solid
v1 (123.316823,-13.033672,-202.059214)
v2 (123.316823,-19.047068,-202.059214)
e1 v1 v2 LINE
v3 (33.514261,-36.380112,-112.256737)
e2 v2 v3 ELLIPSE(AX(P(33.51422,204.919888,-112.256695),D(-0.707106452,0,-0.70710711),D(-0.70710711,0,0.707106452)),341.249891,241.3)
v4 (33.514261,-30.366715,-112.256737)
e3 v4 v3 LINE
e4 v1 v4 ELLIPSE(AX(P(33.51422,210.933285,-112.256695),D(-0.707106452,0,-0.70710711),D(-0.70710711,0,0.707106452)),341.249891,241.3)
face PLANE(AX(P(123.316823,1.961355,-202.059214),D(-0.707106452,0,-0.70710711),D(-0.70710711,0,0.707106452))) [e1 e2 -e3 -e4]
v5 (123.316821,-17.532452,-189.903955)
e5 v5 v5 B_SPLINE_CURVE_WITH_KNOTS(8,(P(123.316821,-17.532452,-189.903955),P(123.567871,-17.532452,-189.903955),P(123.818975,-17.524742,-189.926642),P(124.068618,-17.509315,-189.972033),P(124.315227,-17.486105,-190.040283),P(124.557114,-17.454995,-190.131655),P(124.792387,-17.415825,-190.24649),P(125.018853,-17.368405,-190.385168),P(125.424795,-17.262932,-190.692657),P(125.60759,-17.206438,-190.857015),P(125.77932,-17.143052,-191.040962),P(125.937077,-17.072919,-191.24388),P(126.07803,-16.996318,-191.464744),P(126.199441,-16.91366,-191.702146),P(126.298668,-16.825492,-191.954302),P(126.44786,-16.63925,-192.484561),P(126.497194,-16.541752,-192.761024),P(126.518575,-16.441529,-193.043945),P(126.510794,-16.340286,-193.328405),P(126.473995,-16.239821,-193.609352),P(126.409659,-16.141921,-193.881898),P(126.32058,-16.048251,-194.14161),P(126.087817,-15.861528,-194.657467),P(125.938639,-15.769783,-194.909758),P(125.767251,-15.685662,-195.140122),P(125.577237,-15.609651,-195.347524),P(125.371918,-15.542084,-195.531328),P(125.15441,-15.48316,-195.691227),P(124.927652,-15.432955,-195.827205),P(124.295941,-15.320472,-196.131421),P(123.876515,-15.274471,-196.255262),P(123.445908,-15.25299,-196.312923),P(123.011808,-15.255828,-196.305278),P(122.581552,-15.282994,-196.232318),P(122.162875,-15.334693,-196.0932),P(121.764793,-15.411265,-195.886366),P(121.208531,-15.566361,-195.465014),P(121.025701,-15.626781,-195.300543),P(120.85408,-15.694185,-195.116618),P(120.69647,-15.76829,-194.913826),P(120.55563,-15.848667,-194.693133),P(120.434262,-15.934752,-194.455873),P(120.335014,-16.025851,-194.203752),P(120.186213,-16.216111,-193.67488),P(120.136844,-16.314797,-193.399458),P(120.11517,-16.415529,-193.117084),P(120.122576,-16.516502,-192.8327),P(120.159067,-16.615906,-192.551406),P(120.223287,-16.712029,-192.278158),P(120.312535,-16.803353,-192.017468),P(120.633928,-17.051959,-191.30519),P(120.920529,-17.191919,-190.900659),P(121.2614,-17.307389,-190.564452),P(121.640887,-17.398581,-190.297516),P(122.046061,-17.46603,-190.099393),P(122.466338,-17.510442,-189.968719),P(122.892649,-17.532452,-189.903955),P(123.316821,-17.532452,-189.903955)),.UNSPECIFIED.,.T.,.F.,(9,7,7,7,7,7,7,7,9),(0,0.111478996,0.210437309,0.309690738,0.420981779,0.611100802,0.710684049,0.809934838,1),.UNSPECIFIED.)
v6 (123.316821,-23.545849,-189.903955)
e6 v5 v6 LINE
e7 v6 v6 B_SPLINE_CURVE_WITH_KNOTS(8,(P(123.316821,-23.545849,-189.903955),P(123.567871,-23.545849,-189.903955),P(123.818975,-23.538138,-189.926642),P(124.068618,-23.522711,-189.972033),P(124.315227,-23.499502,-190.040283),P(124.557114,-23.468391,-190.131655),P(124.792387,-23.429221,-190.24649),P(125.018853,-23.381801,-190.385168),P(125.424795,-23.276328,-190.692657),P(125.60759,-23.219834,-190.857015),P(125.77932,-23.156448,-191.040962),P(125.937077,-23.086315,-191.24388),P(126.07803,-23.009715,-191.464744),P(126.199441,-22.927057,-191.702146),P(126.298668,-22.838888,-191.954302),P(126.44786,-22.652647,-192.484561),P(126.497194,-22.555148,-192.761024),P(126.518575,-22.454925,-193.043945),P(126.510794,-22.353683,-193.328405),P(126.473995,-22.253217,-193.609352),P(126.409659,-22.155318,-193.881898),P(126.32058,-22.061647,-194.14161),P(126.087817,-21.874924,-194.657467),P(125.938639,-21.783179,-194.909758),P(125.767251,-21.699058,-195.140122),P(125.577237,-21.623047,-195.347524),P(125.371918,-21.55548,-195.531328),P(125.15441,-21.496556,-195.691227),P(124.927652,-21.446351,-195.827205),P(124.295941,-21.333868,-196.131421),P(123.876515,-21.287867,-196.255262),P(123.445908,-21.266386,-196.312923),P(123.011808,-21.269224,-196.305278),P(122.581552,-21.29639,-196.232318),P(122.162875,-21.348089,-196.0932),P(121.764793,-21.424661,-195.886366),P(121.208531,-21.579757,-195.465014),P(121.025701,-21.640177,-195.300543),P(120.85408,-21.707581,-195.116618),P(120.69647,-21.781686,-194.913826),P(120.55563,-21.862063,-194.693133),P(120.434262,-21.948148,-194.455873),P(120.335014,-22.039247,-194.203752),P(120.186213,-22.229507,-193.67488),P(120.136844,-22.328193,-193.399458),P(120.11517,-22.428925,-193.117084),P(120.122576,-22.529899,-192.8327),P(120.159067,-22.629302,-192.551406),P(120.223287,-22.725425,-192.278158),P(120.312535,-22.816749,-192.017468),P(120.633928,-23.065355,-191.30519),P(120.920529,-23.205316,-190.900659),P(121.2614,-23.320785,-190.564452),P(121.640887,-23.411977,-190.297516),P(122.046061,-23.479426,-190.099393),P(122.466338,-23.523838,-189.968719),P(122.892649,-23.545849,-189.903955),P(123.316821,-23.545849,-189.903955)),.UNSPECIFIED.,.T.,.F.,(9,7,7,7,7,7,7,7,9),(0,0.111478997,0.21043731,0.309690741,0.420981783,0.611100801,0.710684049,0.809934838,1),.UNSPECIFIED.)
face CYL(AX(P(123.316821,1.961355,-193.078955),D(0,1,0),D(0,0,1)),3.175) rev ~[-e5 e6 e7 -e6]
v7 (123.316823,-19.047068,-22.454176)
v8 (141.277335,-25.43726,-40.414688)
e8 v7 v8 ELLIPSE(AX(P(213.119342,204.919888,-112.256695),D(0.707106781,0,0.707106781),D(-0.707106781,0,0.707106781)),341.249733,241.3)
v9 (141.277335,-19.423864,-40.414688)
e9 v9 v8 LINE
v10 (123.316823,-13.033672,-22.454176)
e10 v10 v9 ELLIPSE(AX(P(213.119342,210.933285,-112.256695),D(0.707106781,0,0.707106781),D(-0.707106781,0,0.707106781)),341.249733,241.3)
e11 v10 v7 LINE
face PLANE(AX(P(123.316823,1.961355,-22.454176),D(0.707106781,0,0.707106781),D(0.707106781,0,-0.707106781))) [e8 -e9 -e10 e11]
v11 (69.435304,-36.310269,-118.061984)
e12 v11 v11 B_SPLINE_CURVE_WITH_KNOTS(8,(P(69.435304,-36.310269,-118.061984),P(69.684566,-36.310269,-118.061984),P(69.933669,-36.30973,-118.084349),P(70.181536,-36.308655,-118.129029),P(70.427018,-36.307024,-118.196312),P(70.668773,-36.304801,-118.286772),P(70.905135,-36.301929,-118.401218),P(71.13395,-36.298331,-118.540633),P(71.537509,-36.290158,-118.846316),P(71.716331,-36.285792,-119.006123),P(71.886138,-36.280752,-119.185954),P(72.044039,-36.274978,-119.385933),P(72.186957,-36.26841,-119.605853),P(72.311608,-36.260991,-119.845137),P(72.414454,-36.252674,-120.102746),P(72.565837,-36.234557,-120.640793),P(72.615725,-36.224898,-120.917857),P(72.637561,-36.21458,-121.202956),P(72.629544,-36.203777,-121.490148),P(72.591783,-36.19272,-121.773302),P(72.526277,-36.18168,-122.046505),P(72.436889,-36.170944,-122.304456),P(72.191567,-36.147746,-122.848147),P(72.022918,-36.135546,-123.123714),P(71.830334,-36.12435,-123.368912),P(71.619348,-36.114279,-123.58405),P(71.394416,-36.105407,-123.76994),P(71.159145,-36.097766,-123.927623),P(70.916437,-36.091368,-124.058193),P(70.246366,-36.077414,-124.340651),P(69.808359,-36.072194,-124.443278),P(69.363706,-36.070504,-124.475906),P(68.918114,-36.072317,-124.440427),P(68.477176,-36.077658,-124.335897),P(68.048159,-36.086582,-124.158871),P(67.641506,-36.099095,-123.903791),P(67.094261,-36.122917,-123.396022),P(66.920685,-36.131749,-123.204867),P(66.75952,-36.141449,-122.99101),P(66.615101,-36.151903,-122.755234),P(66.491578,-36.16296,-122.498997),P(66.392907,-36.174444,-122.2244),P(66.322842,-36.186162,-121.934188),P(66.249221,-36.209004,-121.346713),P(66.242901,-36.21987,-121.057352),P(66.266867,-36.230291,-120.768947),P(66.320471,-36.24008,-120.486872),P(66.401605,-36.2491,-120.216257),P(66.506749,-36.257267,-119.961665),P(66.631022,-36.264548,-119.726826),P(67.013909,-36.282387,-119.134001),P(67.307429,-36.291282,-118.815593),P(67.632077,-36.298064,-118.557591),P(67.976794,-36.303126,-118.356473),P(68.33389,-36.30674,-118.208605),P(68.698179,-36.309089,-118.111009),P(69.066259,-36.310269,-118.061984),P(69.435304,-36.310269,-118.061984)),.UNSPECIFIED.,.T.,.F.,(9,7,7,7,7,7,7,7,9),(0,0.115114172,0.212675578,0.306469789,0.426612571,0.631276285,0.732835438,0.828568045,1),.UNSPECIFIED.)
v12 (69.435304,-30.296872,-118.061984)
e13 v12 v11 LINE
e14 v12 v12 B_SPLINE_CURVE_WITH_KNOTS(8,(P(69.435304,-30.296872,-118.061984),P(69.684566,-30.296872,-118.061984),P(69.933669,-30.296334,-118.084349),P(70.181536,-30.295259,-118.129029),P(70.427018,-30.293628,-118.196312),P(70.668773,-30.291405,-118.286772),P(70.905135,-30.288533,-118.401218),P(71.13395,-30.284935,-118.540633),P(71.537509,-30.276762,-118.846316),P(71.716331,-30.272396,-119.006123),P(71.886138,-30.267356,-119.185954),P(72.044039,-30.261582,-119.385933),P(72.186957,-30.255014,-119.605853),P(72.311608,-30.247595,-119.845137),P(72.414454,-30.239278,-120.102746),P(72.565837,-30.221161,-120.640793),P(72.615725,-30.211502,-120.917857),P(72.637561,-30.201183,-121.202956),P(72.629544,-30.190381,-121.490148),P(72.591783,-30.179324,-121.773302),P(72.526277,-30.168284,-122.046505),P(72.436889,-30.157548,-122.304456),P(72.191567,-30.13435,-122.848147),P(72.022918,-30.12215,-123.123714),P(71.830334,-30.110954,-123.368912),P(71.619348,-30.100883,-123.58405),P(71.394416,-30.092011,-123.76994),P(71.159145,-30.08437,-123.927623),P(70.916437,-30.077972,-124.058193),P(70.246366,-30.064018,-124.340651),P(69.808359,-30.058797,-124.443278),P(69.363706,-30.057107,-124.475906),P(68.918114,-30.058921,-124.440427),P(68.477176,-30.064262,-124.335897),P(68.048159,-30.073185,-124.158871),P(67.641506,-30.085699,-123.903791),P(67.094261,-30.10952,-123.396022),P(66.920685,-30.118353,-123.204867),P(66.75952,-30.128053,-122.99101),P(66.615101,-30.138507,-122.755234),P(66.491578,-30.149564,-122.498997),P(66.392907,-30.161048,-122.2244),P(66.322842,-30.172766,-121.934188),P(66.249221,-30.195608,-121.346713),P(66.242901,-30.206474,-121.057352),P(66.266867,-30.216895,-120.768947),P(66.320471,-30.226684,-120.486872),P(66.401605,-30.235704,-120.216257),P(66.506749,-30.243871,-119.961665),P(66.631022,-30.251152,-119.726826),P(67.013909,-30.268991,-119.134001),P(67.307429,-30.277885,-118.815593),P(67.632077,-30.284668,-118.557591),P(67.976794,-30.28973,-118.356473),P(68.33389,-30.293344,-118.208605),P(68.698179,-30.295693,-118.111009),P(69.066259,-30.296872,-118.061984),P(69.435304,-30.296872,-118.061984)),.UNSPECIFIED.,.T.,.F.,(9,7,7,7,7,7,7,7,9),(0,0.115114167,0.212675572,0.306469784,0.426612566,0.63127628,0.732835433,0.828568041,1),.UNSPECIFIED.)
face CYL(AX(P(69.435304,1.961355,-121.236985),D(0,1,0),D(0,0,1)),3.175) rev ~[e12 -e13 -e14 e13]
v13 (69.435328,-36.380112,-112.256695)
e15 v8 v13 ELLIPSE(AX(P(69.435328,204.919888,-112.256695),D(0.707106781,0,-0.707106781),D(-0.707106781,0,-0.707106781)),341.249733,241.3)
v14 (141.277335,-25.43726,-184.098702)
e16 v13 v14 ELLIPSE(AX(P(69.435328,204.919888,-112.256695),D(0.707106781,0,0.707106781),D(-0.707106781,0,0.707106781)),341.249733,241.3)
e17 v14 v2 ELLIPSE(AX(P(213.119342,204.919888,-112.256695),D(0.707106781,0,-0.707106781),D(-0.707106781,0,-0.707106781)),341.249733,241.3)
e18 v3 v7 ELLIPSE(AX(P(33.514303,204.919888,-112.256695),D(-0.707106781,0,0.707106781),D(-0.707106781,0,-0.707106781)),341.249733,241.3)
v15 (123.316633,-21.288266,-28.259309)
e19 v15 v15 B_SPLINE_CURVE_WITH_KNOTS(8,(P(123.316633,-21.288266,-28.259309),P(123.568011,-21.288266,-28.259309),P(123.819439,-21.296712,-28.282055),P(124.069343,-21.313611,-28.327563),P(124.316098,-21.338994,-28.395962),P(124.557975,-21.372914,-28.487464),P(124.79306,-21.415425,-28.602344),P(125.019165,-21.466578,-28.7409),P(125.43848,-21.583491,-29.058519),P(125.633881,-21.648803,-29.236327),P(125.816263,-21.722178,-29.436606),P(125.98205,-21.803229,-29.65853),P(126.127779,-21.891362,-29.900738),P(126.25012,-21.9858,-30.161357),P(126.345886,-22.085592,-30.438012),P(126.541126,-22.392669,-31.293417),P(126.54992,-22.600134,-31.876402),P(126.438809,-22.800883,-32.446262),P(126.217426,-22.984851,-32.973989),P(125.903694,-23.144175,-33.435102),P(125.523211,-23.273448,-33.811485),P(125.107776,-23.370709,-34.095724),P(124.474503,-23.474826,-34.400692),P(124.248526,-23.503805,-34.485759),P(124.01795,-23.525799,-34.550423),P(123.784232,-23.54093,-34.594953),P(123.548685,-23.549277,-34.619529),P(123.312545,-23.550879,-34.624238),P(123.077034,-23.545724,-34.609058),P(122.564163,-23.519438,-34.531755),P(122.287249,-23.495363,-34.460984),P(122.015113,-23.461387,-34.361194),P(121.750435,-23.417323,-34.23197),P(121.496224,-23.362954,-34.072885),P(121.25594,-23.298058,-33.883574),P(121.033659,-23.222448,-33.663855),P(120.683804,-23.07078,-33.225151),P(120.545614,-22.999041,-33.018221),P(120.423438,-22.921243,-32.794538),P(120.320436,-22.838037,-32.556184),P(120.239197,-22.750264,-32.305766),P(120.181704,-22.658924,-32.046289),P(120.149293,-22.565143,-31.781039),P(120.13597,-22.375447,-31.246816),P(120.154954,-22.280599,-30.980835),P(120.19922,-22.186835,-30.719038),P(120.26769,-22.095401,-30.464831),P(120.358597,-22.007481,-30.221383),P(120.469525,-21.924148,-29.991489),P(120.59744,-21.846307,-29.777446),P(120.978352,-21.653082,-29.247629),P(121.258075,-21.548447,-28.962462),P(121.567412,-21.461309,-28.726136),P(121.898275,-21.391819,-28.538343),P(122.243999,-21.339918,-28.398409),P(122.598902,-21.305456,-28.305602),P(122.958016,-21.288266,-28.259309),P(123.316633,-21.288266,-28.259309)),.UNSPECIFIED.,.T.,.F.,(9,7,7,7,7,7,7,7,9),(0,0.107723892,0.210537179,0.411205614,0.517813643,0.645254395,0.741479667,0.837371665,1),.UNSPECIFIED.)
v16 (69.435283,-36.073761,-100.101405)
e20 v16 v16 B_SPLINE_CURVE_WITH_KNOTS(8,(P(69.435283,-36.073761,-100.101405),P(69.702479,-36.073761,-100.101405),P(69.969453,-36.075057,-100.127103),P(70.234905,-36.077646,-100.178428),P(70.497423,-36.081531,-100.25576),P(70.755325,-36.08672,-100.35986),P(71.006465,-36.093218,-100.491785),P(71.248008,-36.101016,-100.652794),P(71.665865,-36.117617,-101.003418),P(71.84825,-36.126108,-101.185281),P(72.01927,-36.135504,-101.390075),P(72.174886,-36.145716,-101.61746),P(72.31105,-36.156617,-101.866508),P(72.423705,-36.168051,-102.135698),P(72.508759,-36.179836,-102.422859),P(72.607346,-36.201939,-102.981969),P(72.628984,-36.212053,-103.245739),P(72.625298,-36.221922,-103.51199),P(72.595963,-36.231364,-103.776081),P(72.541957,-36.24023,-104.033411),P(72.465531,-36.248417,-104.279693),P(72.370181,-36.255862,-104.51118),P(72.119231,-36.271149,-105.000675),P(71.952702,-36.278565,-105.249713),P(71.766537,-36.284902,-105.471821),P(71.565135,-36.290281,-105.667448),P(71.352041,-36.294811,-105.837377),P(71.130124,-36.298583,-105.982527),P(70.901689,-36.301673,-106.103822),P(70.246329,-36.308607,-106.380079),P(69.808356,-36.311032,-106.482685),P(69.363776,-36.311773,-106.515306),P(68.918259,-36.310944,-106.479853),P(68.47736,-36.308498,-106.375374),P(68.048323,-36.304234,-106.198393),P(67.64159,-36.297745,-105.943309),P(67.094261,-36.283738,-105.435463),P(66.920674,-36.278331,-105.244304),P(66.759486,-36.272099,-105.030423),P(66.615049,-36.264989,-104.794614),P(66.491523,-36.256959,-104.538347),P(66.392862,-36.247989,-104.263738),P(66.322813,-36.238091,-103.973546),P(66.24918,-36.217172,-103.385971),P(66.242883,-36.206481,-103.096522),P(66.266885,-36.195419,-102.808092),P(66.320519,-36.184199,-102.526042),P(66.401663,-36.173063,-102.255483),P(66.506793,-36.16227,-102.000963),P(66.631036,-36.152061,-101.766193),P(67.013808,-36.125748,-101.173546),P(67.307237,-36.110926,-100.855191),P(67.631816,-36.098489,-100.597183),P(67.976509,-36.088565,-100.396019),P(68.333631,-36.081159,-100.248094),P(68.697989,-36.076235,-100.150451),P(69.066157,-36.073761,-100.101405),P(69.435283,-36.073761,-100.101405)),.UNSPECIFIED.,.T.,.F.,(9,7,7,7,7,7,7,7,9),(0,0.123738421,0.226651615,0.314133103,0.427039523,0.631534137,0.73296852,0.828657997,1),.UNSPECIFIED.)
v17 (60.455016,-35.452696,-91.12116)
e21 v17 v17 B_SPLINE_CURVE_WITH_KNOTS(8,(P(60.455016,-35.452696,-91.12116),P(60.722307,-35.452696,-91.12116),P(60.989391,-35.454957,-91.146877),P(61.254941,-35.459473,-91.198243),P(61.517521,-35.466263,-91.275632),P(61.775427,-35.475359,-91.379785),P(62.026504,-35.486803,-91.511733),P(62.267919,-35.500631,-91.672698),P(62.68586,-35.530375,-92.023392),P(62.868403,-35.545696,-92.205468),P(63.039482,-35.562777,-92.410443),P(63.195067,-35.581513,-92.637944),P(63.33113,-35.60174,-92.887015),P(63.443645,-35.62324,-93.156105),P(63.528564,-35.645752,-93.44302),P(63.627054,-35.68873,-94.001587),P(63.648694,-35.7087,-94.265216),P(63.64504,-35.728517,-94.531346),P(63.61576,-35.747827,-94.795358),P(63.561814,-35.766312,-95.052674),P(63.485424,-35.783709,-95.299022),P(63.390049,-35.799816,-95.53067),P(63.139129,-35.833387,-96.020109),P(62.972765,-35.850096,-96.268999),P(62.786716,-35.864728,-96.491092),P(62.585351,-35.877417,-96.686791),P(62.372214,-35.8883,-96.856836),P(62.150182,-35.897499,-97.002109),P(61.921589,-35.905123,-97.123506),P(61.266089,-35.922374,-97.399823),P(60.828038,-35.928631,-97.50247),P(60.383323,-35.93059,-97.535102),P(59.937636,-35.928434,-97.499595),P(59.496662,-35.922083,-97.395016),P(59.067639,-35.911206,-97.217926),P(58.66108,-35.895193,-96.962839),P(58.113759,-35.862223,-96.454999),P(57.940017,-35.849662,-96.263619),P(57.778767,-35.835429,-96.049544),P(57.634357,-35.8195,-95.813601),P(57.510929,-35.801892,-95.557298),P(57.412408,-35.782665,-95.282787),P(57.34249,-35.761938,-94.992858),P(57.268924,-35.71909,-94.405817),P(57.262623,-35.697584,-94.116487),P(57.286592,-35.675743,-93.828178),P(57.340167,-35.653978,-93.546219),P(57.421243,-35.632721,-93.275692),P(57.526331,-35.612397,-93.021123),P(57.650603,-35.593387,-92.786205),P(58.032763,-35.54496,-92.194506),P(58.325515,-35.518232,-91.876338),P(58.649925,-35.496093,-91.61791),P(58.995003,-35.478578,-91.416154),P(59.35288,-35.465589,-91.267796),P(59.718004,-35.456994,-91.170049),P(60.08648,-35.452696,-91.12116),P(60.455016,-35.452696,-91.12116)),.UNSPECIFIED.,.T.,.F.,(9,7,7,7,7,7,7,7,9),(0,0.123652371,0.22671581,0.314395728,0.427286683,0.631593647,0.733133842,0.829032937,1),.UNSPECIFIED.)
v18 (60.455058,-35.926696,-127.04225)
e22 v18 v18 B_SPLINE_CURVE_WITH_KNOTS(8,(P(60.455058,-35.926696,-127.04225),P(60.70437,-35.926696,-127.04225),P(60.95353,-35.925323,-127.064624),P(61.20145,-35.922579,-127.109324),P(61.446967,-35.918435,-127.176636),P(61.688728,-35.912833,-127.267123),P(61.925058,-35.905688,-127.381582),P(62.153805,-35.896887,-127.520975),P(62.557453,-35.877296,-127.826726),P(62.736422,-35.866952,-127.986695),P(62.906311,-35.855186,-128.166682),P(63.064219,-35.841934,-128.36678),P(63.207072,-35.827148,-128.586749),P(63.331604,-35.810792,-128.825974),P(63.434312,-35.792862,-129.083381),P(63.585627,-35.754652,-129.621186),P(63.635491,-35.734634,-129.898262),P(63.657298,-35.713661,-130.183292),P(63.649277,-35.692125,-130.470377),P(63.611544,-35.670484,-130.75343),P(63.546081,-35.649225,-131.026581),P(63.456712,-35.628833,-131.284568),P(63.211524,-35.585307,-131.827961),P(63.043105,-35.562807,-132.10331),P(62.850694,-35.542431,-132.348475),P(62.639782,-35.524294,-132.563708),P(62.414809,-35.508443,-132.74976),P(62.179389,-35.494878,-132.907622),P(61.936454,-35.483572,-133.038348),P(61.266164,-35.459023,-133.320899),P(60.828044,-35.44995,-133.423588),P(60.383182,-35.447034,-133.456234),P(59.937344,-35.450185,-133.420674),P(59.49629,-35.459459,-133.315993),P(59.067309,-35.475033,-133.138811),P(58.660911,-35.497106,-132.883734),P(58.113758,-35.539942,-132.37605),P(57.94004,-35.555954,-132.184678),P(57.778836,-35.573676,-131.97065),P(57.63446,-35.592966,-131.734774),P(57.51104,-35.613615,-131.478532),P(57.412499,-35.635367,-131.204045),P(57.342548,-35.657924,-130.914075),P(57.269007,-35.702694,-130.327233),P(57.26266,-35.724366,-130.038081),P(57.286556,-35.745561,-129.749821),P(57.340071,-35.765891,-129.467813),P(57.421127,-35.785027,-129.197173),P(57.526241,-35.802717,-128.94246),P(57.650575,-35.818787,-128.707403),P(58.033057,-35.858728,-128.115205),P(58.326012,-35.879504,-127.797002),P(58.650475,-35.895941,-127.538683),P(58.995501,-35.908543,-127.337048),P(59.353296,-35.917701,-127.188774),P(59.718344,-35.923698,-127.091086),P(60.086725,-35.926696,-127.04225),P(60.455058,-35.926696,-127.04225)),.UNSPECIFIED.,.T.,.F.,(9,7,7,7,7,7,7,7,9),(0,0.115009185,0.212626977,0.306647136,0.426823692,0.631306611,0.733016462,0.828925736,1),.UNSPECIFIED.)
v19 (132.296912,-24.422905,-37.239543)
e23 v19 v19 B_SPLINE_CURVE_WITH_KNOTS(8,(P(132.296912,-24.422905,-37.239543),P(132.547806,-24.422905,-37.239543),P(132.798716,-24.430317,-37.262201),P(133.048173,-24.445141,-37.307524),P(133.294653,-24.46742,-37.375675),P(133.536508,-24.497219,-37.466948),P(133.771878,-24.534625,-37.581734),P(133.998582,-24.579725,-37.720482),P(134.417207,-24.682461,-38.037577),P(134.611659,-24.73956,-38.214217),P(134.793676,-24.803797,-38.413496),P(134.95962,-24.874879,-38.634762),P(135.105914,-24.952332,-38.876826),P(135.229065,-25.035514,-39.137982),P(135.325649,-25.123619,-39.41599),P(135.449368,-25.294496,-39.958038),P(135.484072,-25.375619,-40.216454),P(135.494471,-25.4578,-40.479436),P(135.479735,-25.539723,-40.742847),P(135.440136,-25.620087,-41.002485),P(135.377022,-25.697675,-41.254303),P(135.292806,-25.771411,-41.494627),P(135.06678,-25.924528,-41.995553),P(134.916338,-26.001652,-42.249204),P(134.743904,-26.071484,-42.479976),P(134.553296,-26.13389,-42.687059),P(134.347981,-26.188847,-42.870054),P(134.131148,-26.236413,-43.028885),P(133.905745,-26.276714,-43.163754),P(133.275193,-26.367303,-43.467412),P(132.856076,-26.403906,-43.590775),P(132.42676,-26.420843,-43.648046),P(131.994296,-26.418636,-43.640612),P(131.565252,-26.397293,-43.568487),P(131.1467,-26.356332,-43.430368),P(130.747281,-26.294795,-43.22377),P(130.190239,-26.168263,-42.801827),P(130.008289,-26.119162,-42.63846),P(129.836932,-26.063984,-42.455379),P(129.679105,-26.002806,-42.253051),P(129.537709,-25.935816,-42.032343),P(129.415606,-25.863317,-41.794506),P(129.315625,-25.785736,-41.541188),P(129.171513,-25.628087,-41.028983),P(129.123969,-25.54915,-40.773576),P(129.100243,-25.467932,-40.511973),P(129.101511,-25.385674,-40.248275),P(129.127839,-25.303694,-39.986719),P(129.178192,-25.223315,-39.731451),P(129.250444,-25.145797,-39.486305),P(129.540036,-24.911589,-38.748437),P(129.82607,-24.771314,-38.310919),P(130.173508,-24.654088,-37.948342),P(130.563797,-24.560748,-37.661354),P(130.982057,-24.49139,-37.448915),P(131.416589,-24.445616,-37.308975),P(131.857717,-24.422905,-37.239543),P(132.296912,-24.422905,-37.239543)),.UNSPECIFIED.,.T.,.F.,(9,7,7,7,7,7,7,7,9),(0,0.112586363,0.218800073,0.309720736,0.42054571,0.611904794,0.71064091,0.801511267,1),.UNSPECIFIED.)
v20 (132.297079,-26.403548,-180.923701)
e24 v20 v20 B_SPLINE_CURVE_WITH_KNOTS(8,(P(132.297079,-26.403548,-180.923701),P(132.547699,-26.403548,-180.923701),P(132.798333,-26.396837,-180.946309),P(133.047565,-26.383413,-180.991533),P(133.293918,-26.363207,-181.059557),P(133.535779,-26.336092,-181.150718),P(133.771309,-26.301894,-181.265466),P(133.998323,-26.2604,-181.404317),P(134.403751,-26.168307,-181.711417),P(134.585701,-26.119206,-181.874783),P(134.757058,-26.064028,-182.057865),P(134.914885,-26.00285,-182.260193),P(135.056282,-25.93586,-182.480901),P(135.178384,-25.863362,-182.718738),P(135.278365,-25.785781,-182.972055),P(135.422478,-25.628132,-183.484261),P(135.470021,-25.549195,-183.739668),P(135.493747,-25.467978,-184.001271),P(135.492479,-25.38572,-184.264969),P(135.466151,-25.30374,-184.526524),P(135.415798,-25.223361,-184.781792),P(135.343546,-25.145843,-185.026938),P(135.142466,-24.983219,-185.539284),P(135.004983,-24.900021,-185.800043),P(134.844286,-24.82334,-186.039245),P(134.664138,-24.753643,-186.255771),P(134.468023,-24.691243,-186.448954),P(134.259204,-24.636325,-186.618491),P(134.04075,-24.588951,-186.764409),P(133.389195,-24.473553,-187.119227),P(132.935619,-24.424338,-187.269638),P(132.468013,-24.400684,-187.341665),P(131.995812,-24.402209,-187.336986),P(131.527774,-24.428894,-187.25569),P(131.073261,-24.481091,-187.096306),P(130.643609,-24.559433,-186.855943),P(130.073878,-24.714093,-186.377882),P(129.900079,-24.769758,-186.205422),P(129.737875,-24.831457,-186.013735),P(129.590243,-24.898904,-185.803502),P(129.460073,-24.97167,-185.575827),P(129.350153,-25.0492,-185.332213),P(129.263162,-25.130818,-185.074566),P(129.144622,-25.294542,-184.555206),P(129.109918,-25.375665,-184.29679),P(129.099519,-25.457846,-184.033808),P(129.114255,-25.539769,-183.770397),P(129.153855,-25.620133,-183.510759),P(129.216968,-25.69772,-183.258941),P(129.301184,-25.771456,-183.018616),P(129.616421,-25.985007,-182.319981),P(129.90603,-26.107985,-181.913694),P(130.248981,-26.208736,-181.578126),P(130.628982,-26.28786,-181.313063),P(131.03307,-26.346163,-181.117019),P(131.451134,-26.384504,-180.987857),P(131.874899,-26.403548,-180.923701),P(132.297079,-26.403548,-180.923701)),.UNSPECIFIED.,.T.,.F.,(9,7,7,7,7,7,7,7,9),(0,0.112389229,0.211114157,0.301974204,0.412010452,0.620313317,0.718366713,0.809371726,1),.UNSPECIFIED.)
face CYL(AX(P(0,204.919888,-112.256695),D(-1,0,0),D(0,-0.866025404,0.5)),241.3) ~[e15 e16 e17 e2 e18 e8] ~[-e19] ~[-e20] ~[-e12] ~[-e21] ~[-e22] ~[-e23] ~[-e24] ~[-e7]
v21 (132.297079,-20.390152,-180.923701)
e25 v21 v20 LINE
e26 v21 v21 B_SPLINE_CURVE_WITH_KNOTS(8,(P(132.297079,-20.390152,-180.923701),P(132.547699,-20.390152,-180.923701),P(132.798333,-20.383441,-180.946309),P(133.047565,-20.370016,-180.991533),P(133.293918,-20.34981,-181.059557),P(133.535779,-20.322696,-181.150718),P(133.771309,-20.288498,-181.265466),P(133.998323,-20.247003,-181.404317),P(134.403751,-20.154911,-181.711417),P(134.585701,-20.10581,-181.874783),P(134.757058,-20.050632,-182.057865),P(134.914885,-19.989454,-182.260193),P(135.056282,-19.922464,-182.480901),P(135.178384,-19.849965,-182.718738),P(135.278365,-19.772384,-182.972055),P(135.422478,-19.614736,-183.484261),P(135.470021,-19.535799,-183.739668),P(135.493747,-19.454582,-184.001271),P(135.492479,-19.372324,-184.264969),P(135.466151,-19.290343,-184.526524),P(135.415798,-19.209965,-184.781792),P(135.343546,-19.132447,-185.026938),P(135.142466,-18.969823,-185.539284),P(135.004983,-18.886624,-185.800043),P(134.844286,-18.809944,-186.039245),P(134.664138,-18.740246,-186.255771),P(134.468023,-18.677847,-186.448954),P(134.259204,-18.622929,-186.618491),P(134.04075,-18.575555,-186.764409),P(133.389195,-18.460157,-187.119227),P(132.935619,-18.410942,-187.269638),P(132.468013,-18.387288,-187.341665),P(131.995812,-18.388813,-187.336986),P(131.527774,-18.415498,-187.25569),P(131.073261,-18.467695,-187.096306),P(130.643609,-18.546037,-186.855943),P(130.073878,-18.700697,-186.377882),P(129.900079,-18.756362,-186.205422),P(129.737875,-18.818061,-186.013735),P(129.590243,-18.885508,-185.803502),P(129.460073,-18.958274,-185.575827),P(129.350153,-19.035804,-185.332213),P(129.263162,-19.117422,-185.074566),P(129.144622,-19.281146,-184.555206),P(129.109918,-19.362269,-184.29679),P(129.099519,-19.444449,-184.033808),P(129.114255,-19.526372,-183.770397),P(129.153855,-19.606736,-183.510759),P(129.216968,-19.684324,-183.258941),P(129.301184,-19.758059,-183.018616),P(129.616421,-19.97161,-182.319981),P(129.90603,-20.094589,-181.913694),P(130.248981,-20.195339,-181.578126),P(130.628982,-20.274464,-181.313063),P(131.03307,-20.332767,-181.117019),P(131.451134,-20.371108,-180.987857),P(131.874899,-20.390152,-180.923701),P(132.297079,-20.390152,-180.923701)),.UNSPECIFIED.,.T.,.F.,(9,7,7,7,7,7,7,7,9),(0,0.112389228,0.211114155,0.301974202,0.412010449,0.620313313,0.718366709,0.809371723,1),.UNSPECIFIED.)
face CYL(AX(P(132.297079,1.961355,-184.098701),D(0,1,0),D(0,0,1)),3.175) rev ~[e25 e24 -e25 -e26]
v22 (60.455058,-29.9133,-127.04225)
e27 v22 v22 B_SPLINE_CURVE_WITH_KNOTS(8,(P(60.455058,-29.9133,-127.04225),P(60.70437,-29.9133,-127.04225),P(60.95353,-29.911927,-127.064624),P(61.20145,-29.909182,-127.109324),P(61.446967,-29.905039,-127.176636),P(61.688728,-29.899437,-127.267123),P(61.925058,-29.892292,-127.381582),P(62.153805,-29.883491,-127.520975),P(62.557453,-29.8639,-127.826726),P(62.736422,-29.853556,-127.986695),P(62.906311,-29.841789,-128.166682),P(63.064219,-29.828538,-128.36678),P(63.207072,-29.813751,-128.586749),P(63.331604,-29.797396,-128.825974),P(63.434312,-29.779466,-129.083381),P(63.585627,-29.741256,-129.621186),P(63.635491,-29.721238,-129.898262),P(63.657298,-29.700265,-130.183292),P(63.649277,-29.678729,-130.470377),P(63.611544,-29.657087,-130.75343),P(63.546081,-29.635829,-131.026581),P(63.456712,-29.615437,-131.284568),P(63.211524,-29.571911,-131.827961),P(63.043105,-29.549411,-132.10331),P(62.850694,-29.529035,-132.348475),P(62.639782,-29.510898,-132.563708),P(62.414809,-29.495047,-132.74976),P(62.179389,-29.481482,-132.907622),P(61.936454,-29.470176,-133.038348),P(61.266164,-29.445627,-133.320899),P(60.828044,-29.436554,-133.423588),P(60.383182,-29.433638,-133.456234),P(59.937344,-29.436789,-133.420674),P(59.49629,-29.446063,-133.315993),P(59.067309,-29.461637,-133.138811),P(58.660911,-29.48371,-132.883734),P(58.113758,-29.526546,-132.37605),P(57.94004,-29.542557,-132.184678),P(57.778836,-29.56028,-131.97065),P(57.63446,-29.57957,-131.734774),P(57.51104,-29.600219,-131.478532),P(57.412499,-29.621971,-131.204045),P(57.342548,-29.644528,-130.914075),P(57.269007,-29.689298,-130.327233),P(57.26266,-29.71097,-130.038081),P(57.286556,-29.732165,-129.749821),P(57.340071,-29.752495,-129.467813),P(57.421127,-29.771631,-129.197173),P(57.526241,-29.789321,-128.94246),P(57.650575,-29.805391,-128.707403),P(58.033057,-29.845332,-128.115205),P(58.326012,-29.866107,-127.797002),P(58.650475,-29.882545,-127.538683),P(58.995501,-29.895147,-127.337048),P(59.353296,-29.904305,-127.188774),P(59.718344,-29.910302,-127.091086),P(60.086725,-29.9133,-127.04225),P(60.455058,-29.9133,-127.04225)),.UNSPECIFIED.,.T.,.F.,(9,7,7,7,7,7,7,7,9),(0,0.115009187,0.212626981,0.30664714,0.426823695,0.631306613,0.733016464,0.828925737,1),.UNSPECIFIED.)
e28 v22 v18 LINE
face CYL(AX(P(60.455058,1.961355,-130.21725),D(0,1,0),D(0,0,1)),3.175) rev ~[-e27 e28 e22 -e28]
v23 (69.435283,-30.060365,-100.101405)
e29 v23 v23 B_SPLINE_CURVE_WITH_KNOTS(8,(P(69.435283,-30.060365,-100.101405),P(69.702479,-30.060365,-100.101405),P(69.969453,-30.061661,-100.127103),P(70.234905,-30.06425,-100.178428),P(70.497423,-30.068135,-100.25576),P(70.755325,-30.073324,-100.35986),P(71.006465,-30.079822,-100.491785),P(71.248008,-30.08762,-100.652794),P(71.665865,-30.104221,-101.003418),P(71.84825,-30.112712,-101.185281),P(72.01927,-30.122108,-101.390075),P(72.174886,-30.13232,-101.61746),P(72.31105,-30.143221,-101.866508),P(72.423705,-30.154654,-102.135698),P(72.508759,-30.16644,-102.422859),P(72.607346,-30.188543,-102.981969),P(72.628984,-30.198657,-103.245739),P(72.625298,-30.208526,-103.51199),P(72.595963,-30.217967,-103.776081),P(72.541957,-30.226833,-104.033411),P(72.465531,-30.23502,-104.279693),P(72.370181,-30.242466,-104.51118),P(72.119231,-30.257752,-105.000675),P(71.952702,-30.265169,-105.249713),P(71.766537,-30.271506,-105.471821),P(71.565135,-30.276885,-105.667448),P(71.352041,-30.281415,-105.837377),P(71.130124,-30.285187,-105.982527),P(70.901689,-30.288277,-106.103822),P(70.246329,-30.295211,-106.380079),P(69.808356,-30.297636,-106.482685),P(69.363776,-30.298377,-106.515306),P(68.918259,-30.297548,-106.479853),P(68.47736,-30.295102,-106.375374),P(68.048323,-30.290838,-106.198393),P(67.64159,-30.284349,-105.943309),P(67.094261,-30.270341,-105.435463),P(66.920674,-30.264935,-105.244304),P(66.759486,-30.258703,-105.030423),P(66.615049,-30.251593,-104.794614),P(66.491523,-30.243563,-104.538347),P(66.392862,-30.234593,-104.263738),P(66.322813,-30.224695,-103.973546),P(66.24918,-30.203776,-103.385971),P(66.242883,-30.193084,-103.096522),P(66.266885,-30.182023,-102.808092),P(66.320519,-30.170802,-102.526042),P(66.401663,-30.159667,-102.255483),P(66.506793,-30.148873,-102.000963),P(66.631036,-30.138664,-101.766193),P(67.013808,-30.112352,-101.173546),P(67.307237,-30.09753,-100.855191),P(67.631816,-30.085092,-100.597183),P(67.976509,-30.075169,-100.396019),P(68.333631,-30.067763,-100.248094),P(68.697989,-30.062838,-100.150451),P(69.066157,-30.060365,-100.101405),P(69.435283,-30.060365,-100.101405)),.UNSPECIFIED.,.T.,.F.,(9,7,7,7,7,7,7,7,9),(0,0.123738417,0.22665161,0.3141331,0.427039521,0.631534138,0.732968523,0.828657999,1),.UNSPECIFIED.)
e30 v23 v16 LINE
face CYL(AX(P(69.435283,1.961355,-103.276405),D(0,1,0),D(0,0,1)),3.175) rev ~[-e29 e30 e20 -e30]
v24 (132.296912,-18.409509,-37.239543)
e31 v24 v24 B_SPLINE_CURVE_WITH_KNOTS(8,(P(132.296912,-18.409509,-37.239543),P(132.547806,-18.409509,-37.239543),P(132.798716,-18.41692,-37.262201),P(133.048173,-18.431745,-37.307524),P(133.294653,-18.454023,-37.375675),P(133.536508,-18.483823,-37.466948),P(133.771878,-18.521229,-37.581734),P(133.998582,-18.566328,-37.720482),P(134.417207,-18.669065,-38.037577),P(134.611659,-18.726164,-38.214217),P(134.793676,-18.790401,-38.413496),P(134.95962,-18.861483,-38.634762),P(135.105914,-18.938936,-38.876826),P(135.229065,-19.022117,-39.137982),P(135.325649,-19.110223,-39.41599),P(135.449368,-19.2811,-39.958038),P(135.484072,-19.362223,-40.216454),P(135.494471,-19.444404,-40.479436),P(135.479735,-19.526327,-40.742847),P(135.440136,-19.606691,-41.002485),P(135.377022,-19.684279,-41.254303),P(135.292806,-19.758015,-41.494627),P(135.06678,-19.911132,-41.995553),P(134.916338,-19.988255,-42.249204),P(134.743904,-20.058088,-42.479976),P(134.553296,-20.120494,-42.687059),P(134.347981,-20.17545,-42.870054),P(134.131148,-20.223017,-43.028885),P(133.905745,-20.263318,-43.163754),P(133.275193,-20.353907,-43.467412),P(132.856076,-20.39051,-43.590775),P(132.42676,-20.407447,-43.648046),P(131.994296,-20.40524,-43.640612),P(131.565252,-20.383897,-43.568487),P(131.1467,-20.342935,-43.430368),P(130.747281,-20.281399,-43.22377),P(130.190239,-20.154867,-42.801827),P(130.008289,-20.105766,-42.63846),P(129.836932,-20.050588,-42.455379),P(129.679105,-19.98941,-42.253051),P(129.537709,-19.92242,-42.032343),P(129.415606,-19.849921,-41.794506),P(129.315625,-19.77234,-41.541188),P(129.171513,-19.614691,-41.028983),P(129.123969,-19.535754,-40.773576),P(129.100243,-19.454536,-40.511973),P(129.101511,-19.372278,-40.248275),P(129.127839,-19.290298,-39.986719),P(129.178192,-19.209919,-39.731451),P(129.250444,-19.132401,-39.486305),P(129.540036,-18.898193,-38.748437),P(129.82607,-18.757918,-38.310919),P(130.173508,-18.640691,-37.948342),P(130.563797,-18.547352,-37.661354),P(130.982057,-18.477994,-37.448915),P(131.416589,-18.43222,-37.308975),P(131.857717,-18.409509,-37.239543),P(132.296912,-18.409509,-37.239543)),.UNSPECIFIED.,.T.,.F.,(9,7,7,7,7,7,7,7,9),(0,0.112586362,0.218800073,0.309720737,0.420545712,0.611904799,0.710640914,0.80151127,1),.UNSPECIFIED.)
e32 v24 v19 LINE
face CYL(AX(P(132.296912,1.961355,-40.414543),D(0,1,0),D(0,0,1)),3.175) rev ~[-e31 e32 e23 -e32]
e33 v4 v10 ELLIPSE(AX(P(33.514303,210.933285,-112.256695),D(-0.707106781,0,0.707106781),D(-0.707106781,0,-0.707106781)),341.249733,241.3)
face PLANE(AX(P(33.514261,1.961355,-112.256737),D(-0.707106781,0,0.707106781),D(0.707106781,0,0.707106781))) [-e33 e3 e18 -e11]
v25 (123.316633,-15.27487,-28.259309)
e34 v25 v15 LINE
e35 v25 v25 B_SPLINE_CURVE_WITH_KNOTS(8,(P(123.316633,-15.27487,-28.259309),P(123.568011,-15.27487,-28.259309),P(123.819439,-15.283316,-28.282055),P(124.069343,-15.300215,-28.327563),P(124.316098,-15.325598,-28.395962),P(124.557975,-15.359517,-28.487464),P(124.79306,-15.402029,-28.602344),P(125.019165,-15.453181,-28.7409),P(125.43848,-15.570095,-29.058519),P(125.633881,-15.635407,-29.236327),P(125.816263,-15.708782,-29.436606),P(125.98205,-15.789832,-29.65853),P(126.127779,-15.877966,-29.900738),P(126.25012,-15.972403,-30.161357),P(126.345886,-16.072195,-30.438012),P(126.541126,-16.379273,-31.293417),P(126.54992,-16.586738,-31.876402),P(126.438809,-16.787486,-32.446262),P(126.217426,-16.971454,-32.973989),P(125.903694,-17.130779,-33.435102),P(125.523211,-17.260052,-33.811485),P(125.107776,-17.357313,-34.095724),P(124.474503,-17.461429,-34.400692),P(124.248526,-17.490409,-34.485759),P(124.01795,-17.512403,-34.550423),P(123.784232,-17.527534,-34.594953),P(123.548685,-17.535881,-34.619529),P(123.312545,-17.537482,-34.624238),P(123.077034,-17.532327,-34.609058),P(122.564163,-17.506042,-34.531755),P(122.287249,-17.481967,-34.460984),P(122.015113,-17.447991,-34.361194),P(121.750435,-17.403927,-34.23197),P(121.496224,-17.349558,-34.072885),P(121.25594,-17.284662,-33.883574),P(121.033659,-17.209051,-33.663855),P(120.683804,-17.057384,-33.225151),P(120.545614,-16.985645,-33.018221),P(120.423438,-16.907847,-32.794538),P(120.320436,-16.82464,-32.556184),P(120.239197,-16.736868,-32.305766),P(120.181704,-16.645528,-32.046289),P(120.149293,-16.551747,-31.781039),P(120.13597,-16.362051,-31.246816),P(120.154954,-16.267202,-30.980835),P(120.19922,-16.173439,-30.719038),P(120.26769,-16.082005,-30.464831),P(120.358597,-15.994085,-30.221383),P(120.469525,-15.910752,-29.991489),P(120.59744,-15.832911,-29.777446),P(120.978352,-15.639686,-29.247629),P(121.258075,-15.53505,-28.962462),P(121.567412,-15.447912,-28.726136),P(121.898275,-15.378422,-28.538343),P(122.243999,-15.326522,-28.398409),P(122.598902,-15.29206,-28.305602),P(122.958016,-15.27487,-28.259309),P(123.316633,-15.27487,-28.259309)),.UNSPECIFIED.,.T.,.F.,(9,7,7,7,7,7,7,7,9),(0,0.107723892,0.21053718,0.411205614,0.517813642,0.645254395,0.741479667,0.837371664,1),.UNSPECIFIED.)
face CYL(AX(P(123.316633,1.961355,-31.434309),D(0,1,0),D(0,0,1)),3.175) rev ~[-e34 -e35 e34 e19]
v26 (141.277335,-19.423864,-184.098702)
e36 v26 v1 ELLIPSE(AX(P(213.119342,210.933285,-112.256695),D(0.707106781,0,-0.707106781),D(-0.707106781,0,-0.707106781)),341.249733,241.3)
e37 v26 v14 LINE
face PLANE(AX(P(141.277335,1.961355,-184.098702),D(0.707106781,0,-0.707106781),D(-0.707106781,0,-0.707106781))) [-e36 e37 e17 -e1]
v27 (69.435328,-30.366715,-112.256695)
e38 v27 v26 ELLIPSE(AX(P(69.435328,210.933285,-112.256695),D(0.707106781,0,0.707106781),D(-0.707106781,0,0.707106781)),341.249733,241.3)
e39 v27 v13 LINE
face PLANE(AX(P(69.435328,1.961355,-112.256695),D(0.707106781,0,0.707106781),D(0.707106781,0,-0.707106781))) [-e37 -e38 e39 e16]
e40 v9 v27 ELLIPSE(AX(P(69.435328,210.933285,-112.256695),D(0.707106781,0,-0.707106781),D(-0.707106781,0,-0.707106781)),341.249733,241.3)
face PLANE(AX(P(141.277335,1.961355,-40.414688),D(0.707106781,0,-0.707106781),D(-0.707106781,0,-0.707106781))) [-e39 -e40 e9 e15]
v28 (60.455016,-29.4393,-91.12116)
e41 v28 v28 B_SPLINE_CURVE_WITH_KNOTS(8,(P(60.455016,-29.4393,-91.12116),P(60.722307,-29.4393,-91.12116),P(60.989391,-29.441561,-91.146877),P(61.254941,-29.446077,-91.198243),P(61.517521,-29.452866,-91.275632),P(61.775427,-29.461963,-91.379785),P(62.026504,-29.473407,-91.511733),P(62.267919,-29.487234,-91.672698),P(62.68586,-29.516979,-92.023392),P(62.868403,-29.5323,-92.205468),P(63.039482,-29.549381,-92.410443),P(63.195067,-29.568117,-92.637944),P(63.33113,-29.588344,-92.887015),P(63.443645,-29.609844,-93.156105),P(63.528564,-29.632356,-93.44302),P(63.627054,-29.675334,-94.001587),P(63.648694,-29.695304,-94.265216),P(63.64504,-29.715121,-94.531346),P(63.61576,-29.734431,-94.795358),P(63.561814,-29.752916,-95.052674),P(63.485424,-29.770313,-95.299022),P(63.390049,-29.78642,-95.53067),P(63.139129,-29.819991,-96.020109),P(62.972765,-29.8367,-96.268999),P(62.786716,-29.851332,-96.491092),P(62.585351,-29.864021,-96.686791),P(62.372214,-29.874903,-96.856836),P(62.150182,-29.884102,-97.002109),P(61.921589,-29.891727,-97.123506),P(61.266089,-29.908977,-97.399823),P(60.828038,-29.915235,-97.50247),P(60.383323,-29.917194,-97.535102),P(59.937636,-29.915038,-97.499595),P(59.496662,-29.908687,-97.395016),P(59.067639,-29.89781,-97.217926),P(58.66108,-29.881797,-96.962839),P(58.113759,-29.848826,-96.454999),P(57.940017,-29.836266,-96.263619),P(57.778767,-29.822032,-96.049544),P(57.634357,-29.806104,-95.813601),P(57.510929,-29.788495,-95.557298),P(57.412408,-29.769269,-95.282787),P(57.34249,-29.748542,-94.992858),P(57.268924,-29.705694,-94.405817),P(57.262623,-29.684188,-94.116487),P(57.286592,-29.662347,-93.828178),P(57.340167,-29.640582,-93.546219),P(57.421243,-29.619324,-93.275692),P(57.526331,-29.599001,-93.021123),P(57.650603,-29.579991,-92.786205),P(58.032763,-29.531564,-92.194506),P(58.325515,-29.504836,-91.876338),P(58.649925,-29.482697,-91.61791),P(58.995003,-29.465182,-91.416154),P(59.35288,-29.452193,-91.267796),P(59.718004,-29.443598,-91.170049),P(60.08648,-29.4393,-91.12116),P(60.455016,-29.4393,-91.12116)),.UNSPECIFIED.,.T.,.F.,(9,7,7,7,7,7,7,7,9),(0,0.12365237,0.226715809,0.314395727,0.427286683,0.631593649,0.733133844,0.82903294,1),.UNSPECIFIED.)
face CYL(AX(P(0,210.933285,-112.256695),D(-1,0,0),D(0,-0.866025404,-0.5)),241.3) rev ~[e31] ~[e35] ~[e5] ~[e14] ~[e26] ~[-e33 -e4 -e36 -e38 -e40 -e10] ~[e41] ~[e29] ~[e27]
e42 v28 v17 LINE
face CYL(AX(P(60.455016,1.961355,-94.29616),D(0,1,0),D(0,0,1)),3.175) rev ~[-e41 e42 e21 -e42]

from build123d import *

# Parameters (mm, degrees)
BOSS_EXTRUDE4_DEPTH = 304.8
SKETCH4_OUTSIDE_W   = 384.928
SKETCH4_OUTSIDE_H   = 321.428
CUT_EXTRUDE2_DEPTH  = 150
SKETCH6_R           = 3.175
CUT_EXTRUDE3_DEPTH  = 150


with BuildPart() as part:
    # Sketch3 → Boss-Extrude4 (new body)
    with BuildSketch(Plane(origin=(0, 0, 0), x_dir=(0, 0, -1), z_dir=(1, 0, 0))):
        with BuildLine():
            ThreePointArc((232.90669496, 1.961354585), (112.25669496, -30.366715482), (-8.39330504, 1.961354585))
            Line((-8.39330504, 1.961354585), (-8.39330504, -4.052041589))
            ThreePointArc((-8.39330504, -4.052041589), (112.25669496, -36.380111656), (232.90669496, -4.052041589))
            Line((232.90669496, -4.052041589), (232.90669496, 1.961354585))
        make_face()
    extrude(amount=BOSS_EXTRUDE4_DEPTH)

    # Sketch4 outside → Cut-Extrude2 (cut)
    with BuildSketch(Plane(origin=(0, 1.961354585, 0), x_dir=(1, 0, 0), z_dir=(0, 1, 0))):
        with Locations((152.4, 112.257)):
            Rectangle(SKETCH4_OUTSIDE_W, SKETCH4_OUTSIDE_H)
        Polygon((123.316822566, 202.059214397), (33.514261355, 112.256736733), (123.316822566, 22.454175523), (141.277334808, 40.414687765), (69.435327613, 112.25669496), (141.277334808, 184.098702154), align=None, mode=Mode.SUBTRACT)
    extrude(amount=-CUT_EXTRUDE2_DEPTH, mode=Mode.SUBTRACT)

    # Sketch6 → Cut-Extrude3 (cut)
    with BuildSketch(Plane(origin=(0, 1.961354585, 0), x_dir=(1, 0, 0), z_dir=(0, 1, 0))):
        with Locations(Location((123.316821174, 193.078955491, 0), (0, 0, 270))):
            Circle(SKETCH6_R)
        with Locations(Location((132.297078687, 184.098700762, 0), (0, 0, 270))):
            Circle(SKETCH6_R)
        with Locations(Location((60.455057568, 130.217250368, 0), (0, 0, 270))):
            Circle(SKETCH6_R)
        with Locations(Location((69.435303942, 121.2369845, 0), (0, 0, 270))):
            Circle(SKETCH6_R)
        with Locations(Location((132.296911593, 40.41454295, 0), (0, 0, 270))):
            Circle(SKETCH6_R)
        with Locations(Location((123.316633192, 31.434309108, 0), (0, 0, 270))):
            Circle(SKETCH6_R)
        with Locations(Location((60.455015794, 94.296160438, 0), (0, 0, 270))):
            Circle(SKETCH6_R)
        with Locations(Location((69.435283055, 103.27640542, 0), (0, 0, 270))):
            Circle(SKETCH6_R)
    extrude(amount=-CUT_EXTRUDE3_DEPTH, mode=Mode.SUBTRACT)


solid = part.part
